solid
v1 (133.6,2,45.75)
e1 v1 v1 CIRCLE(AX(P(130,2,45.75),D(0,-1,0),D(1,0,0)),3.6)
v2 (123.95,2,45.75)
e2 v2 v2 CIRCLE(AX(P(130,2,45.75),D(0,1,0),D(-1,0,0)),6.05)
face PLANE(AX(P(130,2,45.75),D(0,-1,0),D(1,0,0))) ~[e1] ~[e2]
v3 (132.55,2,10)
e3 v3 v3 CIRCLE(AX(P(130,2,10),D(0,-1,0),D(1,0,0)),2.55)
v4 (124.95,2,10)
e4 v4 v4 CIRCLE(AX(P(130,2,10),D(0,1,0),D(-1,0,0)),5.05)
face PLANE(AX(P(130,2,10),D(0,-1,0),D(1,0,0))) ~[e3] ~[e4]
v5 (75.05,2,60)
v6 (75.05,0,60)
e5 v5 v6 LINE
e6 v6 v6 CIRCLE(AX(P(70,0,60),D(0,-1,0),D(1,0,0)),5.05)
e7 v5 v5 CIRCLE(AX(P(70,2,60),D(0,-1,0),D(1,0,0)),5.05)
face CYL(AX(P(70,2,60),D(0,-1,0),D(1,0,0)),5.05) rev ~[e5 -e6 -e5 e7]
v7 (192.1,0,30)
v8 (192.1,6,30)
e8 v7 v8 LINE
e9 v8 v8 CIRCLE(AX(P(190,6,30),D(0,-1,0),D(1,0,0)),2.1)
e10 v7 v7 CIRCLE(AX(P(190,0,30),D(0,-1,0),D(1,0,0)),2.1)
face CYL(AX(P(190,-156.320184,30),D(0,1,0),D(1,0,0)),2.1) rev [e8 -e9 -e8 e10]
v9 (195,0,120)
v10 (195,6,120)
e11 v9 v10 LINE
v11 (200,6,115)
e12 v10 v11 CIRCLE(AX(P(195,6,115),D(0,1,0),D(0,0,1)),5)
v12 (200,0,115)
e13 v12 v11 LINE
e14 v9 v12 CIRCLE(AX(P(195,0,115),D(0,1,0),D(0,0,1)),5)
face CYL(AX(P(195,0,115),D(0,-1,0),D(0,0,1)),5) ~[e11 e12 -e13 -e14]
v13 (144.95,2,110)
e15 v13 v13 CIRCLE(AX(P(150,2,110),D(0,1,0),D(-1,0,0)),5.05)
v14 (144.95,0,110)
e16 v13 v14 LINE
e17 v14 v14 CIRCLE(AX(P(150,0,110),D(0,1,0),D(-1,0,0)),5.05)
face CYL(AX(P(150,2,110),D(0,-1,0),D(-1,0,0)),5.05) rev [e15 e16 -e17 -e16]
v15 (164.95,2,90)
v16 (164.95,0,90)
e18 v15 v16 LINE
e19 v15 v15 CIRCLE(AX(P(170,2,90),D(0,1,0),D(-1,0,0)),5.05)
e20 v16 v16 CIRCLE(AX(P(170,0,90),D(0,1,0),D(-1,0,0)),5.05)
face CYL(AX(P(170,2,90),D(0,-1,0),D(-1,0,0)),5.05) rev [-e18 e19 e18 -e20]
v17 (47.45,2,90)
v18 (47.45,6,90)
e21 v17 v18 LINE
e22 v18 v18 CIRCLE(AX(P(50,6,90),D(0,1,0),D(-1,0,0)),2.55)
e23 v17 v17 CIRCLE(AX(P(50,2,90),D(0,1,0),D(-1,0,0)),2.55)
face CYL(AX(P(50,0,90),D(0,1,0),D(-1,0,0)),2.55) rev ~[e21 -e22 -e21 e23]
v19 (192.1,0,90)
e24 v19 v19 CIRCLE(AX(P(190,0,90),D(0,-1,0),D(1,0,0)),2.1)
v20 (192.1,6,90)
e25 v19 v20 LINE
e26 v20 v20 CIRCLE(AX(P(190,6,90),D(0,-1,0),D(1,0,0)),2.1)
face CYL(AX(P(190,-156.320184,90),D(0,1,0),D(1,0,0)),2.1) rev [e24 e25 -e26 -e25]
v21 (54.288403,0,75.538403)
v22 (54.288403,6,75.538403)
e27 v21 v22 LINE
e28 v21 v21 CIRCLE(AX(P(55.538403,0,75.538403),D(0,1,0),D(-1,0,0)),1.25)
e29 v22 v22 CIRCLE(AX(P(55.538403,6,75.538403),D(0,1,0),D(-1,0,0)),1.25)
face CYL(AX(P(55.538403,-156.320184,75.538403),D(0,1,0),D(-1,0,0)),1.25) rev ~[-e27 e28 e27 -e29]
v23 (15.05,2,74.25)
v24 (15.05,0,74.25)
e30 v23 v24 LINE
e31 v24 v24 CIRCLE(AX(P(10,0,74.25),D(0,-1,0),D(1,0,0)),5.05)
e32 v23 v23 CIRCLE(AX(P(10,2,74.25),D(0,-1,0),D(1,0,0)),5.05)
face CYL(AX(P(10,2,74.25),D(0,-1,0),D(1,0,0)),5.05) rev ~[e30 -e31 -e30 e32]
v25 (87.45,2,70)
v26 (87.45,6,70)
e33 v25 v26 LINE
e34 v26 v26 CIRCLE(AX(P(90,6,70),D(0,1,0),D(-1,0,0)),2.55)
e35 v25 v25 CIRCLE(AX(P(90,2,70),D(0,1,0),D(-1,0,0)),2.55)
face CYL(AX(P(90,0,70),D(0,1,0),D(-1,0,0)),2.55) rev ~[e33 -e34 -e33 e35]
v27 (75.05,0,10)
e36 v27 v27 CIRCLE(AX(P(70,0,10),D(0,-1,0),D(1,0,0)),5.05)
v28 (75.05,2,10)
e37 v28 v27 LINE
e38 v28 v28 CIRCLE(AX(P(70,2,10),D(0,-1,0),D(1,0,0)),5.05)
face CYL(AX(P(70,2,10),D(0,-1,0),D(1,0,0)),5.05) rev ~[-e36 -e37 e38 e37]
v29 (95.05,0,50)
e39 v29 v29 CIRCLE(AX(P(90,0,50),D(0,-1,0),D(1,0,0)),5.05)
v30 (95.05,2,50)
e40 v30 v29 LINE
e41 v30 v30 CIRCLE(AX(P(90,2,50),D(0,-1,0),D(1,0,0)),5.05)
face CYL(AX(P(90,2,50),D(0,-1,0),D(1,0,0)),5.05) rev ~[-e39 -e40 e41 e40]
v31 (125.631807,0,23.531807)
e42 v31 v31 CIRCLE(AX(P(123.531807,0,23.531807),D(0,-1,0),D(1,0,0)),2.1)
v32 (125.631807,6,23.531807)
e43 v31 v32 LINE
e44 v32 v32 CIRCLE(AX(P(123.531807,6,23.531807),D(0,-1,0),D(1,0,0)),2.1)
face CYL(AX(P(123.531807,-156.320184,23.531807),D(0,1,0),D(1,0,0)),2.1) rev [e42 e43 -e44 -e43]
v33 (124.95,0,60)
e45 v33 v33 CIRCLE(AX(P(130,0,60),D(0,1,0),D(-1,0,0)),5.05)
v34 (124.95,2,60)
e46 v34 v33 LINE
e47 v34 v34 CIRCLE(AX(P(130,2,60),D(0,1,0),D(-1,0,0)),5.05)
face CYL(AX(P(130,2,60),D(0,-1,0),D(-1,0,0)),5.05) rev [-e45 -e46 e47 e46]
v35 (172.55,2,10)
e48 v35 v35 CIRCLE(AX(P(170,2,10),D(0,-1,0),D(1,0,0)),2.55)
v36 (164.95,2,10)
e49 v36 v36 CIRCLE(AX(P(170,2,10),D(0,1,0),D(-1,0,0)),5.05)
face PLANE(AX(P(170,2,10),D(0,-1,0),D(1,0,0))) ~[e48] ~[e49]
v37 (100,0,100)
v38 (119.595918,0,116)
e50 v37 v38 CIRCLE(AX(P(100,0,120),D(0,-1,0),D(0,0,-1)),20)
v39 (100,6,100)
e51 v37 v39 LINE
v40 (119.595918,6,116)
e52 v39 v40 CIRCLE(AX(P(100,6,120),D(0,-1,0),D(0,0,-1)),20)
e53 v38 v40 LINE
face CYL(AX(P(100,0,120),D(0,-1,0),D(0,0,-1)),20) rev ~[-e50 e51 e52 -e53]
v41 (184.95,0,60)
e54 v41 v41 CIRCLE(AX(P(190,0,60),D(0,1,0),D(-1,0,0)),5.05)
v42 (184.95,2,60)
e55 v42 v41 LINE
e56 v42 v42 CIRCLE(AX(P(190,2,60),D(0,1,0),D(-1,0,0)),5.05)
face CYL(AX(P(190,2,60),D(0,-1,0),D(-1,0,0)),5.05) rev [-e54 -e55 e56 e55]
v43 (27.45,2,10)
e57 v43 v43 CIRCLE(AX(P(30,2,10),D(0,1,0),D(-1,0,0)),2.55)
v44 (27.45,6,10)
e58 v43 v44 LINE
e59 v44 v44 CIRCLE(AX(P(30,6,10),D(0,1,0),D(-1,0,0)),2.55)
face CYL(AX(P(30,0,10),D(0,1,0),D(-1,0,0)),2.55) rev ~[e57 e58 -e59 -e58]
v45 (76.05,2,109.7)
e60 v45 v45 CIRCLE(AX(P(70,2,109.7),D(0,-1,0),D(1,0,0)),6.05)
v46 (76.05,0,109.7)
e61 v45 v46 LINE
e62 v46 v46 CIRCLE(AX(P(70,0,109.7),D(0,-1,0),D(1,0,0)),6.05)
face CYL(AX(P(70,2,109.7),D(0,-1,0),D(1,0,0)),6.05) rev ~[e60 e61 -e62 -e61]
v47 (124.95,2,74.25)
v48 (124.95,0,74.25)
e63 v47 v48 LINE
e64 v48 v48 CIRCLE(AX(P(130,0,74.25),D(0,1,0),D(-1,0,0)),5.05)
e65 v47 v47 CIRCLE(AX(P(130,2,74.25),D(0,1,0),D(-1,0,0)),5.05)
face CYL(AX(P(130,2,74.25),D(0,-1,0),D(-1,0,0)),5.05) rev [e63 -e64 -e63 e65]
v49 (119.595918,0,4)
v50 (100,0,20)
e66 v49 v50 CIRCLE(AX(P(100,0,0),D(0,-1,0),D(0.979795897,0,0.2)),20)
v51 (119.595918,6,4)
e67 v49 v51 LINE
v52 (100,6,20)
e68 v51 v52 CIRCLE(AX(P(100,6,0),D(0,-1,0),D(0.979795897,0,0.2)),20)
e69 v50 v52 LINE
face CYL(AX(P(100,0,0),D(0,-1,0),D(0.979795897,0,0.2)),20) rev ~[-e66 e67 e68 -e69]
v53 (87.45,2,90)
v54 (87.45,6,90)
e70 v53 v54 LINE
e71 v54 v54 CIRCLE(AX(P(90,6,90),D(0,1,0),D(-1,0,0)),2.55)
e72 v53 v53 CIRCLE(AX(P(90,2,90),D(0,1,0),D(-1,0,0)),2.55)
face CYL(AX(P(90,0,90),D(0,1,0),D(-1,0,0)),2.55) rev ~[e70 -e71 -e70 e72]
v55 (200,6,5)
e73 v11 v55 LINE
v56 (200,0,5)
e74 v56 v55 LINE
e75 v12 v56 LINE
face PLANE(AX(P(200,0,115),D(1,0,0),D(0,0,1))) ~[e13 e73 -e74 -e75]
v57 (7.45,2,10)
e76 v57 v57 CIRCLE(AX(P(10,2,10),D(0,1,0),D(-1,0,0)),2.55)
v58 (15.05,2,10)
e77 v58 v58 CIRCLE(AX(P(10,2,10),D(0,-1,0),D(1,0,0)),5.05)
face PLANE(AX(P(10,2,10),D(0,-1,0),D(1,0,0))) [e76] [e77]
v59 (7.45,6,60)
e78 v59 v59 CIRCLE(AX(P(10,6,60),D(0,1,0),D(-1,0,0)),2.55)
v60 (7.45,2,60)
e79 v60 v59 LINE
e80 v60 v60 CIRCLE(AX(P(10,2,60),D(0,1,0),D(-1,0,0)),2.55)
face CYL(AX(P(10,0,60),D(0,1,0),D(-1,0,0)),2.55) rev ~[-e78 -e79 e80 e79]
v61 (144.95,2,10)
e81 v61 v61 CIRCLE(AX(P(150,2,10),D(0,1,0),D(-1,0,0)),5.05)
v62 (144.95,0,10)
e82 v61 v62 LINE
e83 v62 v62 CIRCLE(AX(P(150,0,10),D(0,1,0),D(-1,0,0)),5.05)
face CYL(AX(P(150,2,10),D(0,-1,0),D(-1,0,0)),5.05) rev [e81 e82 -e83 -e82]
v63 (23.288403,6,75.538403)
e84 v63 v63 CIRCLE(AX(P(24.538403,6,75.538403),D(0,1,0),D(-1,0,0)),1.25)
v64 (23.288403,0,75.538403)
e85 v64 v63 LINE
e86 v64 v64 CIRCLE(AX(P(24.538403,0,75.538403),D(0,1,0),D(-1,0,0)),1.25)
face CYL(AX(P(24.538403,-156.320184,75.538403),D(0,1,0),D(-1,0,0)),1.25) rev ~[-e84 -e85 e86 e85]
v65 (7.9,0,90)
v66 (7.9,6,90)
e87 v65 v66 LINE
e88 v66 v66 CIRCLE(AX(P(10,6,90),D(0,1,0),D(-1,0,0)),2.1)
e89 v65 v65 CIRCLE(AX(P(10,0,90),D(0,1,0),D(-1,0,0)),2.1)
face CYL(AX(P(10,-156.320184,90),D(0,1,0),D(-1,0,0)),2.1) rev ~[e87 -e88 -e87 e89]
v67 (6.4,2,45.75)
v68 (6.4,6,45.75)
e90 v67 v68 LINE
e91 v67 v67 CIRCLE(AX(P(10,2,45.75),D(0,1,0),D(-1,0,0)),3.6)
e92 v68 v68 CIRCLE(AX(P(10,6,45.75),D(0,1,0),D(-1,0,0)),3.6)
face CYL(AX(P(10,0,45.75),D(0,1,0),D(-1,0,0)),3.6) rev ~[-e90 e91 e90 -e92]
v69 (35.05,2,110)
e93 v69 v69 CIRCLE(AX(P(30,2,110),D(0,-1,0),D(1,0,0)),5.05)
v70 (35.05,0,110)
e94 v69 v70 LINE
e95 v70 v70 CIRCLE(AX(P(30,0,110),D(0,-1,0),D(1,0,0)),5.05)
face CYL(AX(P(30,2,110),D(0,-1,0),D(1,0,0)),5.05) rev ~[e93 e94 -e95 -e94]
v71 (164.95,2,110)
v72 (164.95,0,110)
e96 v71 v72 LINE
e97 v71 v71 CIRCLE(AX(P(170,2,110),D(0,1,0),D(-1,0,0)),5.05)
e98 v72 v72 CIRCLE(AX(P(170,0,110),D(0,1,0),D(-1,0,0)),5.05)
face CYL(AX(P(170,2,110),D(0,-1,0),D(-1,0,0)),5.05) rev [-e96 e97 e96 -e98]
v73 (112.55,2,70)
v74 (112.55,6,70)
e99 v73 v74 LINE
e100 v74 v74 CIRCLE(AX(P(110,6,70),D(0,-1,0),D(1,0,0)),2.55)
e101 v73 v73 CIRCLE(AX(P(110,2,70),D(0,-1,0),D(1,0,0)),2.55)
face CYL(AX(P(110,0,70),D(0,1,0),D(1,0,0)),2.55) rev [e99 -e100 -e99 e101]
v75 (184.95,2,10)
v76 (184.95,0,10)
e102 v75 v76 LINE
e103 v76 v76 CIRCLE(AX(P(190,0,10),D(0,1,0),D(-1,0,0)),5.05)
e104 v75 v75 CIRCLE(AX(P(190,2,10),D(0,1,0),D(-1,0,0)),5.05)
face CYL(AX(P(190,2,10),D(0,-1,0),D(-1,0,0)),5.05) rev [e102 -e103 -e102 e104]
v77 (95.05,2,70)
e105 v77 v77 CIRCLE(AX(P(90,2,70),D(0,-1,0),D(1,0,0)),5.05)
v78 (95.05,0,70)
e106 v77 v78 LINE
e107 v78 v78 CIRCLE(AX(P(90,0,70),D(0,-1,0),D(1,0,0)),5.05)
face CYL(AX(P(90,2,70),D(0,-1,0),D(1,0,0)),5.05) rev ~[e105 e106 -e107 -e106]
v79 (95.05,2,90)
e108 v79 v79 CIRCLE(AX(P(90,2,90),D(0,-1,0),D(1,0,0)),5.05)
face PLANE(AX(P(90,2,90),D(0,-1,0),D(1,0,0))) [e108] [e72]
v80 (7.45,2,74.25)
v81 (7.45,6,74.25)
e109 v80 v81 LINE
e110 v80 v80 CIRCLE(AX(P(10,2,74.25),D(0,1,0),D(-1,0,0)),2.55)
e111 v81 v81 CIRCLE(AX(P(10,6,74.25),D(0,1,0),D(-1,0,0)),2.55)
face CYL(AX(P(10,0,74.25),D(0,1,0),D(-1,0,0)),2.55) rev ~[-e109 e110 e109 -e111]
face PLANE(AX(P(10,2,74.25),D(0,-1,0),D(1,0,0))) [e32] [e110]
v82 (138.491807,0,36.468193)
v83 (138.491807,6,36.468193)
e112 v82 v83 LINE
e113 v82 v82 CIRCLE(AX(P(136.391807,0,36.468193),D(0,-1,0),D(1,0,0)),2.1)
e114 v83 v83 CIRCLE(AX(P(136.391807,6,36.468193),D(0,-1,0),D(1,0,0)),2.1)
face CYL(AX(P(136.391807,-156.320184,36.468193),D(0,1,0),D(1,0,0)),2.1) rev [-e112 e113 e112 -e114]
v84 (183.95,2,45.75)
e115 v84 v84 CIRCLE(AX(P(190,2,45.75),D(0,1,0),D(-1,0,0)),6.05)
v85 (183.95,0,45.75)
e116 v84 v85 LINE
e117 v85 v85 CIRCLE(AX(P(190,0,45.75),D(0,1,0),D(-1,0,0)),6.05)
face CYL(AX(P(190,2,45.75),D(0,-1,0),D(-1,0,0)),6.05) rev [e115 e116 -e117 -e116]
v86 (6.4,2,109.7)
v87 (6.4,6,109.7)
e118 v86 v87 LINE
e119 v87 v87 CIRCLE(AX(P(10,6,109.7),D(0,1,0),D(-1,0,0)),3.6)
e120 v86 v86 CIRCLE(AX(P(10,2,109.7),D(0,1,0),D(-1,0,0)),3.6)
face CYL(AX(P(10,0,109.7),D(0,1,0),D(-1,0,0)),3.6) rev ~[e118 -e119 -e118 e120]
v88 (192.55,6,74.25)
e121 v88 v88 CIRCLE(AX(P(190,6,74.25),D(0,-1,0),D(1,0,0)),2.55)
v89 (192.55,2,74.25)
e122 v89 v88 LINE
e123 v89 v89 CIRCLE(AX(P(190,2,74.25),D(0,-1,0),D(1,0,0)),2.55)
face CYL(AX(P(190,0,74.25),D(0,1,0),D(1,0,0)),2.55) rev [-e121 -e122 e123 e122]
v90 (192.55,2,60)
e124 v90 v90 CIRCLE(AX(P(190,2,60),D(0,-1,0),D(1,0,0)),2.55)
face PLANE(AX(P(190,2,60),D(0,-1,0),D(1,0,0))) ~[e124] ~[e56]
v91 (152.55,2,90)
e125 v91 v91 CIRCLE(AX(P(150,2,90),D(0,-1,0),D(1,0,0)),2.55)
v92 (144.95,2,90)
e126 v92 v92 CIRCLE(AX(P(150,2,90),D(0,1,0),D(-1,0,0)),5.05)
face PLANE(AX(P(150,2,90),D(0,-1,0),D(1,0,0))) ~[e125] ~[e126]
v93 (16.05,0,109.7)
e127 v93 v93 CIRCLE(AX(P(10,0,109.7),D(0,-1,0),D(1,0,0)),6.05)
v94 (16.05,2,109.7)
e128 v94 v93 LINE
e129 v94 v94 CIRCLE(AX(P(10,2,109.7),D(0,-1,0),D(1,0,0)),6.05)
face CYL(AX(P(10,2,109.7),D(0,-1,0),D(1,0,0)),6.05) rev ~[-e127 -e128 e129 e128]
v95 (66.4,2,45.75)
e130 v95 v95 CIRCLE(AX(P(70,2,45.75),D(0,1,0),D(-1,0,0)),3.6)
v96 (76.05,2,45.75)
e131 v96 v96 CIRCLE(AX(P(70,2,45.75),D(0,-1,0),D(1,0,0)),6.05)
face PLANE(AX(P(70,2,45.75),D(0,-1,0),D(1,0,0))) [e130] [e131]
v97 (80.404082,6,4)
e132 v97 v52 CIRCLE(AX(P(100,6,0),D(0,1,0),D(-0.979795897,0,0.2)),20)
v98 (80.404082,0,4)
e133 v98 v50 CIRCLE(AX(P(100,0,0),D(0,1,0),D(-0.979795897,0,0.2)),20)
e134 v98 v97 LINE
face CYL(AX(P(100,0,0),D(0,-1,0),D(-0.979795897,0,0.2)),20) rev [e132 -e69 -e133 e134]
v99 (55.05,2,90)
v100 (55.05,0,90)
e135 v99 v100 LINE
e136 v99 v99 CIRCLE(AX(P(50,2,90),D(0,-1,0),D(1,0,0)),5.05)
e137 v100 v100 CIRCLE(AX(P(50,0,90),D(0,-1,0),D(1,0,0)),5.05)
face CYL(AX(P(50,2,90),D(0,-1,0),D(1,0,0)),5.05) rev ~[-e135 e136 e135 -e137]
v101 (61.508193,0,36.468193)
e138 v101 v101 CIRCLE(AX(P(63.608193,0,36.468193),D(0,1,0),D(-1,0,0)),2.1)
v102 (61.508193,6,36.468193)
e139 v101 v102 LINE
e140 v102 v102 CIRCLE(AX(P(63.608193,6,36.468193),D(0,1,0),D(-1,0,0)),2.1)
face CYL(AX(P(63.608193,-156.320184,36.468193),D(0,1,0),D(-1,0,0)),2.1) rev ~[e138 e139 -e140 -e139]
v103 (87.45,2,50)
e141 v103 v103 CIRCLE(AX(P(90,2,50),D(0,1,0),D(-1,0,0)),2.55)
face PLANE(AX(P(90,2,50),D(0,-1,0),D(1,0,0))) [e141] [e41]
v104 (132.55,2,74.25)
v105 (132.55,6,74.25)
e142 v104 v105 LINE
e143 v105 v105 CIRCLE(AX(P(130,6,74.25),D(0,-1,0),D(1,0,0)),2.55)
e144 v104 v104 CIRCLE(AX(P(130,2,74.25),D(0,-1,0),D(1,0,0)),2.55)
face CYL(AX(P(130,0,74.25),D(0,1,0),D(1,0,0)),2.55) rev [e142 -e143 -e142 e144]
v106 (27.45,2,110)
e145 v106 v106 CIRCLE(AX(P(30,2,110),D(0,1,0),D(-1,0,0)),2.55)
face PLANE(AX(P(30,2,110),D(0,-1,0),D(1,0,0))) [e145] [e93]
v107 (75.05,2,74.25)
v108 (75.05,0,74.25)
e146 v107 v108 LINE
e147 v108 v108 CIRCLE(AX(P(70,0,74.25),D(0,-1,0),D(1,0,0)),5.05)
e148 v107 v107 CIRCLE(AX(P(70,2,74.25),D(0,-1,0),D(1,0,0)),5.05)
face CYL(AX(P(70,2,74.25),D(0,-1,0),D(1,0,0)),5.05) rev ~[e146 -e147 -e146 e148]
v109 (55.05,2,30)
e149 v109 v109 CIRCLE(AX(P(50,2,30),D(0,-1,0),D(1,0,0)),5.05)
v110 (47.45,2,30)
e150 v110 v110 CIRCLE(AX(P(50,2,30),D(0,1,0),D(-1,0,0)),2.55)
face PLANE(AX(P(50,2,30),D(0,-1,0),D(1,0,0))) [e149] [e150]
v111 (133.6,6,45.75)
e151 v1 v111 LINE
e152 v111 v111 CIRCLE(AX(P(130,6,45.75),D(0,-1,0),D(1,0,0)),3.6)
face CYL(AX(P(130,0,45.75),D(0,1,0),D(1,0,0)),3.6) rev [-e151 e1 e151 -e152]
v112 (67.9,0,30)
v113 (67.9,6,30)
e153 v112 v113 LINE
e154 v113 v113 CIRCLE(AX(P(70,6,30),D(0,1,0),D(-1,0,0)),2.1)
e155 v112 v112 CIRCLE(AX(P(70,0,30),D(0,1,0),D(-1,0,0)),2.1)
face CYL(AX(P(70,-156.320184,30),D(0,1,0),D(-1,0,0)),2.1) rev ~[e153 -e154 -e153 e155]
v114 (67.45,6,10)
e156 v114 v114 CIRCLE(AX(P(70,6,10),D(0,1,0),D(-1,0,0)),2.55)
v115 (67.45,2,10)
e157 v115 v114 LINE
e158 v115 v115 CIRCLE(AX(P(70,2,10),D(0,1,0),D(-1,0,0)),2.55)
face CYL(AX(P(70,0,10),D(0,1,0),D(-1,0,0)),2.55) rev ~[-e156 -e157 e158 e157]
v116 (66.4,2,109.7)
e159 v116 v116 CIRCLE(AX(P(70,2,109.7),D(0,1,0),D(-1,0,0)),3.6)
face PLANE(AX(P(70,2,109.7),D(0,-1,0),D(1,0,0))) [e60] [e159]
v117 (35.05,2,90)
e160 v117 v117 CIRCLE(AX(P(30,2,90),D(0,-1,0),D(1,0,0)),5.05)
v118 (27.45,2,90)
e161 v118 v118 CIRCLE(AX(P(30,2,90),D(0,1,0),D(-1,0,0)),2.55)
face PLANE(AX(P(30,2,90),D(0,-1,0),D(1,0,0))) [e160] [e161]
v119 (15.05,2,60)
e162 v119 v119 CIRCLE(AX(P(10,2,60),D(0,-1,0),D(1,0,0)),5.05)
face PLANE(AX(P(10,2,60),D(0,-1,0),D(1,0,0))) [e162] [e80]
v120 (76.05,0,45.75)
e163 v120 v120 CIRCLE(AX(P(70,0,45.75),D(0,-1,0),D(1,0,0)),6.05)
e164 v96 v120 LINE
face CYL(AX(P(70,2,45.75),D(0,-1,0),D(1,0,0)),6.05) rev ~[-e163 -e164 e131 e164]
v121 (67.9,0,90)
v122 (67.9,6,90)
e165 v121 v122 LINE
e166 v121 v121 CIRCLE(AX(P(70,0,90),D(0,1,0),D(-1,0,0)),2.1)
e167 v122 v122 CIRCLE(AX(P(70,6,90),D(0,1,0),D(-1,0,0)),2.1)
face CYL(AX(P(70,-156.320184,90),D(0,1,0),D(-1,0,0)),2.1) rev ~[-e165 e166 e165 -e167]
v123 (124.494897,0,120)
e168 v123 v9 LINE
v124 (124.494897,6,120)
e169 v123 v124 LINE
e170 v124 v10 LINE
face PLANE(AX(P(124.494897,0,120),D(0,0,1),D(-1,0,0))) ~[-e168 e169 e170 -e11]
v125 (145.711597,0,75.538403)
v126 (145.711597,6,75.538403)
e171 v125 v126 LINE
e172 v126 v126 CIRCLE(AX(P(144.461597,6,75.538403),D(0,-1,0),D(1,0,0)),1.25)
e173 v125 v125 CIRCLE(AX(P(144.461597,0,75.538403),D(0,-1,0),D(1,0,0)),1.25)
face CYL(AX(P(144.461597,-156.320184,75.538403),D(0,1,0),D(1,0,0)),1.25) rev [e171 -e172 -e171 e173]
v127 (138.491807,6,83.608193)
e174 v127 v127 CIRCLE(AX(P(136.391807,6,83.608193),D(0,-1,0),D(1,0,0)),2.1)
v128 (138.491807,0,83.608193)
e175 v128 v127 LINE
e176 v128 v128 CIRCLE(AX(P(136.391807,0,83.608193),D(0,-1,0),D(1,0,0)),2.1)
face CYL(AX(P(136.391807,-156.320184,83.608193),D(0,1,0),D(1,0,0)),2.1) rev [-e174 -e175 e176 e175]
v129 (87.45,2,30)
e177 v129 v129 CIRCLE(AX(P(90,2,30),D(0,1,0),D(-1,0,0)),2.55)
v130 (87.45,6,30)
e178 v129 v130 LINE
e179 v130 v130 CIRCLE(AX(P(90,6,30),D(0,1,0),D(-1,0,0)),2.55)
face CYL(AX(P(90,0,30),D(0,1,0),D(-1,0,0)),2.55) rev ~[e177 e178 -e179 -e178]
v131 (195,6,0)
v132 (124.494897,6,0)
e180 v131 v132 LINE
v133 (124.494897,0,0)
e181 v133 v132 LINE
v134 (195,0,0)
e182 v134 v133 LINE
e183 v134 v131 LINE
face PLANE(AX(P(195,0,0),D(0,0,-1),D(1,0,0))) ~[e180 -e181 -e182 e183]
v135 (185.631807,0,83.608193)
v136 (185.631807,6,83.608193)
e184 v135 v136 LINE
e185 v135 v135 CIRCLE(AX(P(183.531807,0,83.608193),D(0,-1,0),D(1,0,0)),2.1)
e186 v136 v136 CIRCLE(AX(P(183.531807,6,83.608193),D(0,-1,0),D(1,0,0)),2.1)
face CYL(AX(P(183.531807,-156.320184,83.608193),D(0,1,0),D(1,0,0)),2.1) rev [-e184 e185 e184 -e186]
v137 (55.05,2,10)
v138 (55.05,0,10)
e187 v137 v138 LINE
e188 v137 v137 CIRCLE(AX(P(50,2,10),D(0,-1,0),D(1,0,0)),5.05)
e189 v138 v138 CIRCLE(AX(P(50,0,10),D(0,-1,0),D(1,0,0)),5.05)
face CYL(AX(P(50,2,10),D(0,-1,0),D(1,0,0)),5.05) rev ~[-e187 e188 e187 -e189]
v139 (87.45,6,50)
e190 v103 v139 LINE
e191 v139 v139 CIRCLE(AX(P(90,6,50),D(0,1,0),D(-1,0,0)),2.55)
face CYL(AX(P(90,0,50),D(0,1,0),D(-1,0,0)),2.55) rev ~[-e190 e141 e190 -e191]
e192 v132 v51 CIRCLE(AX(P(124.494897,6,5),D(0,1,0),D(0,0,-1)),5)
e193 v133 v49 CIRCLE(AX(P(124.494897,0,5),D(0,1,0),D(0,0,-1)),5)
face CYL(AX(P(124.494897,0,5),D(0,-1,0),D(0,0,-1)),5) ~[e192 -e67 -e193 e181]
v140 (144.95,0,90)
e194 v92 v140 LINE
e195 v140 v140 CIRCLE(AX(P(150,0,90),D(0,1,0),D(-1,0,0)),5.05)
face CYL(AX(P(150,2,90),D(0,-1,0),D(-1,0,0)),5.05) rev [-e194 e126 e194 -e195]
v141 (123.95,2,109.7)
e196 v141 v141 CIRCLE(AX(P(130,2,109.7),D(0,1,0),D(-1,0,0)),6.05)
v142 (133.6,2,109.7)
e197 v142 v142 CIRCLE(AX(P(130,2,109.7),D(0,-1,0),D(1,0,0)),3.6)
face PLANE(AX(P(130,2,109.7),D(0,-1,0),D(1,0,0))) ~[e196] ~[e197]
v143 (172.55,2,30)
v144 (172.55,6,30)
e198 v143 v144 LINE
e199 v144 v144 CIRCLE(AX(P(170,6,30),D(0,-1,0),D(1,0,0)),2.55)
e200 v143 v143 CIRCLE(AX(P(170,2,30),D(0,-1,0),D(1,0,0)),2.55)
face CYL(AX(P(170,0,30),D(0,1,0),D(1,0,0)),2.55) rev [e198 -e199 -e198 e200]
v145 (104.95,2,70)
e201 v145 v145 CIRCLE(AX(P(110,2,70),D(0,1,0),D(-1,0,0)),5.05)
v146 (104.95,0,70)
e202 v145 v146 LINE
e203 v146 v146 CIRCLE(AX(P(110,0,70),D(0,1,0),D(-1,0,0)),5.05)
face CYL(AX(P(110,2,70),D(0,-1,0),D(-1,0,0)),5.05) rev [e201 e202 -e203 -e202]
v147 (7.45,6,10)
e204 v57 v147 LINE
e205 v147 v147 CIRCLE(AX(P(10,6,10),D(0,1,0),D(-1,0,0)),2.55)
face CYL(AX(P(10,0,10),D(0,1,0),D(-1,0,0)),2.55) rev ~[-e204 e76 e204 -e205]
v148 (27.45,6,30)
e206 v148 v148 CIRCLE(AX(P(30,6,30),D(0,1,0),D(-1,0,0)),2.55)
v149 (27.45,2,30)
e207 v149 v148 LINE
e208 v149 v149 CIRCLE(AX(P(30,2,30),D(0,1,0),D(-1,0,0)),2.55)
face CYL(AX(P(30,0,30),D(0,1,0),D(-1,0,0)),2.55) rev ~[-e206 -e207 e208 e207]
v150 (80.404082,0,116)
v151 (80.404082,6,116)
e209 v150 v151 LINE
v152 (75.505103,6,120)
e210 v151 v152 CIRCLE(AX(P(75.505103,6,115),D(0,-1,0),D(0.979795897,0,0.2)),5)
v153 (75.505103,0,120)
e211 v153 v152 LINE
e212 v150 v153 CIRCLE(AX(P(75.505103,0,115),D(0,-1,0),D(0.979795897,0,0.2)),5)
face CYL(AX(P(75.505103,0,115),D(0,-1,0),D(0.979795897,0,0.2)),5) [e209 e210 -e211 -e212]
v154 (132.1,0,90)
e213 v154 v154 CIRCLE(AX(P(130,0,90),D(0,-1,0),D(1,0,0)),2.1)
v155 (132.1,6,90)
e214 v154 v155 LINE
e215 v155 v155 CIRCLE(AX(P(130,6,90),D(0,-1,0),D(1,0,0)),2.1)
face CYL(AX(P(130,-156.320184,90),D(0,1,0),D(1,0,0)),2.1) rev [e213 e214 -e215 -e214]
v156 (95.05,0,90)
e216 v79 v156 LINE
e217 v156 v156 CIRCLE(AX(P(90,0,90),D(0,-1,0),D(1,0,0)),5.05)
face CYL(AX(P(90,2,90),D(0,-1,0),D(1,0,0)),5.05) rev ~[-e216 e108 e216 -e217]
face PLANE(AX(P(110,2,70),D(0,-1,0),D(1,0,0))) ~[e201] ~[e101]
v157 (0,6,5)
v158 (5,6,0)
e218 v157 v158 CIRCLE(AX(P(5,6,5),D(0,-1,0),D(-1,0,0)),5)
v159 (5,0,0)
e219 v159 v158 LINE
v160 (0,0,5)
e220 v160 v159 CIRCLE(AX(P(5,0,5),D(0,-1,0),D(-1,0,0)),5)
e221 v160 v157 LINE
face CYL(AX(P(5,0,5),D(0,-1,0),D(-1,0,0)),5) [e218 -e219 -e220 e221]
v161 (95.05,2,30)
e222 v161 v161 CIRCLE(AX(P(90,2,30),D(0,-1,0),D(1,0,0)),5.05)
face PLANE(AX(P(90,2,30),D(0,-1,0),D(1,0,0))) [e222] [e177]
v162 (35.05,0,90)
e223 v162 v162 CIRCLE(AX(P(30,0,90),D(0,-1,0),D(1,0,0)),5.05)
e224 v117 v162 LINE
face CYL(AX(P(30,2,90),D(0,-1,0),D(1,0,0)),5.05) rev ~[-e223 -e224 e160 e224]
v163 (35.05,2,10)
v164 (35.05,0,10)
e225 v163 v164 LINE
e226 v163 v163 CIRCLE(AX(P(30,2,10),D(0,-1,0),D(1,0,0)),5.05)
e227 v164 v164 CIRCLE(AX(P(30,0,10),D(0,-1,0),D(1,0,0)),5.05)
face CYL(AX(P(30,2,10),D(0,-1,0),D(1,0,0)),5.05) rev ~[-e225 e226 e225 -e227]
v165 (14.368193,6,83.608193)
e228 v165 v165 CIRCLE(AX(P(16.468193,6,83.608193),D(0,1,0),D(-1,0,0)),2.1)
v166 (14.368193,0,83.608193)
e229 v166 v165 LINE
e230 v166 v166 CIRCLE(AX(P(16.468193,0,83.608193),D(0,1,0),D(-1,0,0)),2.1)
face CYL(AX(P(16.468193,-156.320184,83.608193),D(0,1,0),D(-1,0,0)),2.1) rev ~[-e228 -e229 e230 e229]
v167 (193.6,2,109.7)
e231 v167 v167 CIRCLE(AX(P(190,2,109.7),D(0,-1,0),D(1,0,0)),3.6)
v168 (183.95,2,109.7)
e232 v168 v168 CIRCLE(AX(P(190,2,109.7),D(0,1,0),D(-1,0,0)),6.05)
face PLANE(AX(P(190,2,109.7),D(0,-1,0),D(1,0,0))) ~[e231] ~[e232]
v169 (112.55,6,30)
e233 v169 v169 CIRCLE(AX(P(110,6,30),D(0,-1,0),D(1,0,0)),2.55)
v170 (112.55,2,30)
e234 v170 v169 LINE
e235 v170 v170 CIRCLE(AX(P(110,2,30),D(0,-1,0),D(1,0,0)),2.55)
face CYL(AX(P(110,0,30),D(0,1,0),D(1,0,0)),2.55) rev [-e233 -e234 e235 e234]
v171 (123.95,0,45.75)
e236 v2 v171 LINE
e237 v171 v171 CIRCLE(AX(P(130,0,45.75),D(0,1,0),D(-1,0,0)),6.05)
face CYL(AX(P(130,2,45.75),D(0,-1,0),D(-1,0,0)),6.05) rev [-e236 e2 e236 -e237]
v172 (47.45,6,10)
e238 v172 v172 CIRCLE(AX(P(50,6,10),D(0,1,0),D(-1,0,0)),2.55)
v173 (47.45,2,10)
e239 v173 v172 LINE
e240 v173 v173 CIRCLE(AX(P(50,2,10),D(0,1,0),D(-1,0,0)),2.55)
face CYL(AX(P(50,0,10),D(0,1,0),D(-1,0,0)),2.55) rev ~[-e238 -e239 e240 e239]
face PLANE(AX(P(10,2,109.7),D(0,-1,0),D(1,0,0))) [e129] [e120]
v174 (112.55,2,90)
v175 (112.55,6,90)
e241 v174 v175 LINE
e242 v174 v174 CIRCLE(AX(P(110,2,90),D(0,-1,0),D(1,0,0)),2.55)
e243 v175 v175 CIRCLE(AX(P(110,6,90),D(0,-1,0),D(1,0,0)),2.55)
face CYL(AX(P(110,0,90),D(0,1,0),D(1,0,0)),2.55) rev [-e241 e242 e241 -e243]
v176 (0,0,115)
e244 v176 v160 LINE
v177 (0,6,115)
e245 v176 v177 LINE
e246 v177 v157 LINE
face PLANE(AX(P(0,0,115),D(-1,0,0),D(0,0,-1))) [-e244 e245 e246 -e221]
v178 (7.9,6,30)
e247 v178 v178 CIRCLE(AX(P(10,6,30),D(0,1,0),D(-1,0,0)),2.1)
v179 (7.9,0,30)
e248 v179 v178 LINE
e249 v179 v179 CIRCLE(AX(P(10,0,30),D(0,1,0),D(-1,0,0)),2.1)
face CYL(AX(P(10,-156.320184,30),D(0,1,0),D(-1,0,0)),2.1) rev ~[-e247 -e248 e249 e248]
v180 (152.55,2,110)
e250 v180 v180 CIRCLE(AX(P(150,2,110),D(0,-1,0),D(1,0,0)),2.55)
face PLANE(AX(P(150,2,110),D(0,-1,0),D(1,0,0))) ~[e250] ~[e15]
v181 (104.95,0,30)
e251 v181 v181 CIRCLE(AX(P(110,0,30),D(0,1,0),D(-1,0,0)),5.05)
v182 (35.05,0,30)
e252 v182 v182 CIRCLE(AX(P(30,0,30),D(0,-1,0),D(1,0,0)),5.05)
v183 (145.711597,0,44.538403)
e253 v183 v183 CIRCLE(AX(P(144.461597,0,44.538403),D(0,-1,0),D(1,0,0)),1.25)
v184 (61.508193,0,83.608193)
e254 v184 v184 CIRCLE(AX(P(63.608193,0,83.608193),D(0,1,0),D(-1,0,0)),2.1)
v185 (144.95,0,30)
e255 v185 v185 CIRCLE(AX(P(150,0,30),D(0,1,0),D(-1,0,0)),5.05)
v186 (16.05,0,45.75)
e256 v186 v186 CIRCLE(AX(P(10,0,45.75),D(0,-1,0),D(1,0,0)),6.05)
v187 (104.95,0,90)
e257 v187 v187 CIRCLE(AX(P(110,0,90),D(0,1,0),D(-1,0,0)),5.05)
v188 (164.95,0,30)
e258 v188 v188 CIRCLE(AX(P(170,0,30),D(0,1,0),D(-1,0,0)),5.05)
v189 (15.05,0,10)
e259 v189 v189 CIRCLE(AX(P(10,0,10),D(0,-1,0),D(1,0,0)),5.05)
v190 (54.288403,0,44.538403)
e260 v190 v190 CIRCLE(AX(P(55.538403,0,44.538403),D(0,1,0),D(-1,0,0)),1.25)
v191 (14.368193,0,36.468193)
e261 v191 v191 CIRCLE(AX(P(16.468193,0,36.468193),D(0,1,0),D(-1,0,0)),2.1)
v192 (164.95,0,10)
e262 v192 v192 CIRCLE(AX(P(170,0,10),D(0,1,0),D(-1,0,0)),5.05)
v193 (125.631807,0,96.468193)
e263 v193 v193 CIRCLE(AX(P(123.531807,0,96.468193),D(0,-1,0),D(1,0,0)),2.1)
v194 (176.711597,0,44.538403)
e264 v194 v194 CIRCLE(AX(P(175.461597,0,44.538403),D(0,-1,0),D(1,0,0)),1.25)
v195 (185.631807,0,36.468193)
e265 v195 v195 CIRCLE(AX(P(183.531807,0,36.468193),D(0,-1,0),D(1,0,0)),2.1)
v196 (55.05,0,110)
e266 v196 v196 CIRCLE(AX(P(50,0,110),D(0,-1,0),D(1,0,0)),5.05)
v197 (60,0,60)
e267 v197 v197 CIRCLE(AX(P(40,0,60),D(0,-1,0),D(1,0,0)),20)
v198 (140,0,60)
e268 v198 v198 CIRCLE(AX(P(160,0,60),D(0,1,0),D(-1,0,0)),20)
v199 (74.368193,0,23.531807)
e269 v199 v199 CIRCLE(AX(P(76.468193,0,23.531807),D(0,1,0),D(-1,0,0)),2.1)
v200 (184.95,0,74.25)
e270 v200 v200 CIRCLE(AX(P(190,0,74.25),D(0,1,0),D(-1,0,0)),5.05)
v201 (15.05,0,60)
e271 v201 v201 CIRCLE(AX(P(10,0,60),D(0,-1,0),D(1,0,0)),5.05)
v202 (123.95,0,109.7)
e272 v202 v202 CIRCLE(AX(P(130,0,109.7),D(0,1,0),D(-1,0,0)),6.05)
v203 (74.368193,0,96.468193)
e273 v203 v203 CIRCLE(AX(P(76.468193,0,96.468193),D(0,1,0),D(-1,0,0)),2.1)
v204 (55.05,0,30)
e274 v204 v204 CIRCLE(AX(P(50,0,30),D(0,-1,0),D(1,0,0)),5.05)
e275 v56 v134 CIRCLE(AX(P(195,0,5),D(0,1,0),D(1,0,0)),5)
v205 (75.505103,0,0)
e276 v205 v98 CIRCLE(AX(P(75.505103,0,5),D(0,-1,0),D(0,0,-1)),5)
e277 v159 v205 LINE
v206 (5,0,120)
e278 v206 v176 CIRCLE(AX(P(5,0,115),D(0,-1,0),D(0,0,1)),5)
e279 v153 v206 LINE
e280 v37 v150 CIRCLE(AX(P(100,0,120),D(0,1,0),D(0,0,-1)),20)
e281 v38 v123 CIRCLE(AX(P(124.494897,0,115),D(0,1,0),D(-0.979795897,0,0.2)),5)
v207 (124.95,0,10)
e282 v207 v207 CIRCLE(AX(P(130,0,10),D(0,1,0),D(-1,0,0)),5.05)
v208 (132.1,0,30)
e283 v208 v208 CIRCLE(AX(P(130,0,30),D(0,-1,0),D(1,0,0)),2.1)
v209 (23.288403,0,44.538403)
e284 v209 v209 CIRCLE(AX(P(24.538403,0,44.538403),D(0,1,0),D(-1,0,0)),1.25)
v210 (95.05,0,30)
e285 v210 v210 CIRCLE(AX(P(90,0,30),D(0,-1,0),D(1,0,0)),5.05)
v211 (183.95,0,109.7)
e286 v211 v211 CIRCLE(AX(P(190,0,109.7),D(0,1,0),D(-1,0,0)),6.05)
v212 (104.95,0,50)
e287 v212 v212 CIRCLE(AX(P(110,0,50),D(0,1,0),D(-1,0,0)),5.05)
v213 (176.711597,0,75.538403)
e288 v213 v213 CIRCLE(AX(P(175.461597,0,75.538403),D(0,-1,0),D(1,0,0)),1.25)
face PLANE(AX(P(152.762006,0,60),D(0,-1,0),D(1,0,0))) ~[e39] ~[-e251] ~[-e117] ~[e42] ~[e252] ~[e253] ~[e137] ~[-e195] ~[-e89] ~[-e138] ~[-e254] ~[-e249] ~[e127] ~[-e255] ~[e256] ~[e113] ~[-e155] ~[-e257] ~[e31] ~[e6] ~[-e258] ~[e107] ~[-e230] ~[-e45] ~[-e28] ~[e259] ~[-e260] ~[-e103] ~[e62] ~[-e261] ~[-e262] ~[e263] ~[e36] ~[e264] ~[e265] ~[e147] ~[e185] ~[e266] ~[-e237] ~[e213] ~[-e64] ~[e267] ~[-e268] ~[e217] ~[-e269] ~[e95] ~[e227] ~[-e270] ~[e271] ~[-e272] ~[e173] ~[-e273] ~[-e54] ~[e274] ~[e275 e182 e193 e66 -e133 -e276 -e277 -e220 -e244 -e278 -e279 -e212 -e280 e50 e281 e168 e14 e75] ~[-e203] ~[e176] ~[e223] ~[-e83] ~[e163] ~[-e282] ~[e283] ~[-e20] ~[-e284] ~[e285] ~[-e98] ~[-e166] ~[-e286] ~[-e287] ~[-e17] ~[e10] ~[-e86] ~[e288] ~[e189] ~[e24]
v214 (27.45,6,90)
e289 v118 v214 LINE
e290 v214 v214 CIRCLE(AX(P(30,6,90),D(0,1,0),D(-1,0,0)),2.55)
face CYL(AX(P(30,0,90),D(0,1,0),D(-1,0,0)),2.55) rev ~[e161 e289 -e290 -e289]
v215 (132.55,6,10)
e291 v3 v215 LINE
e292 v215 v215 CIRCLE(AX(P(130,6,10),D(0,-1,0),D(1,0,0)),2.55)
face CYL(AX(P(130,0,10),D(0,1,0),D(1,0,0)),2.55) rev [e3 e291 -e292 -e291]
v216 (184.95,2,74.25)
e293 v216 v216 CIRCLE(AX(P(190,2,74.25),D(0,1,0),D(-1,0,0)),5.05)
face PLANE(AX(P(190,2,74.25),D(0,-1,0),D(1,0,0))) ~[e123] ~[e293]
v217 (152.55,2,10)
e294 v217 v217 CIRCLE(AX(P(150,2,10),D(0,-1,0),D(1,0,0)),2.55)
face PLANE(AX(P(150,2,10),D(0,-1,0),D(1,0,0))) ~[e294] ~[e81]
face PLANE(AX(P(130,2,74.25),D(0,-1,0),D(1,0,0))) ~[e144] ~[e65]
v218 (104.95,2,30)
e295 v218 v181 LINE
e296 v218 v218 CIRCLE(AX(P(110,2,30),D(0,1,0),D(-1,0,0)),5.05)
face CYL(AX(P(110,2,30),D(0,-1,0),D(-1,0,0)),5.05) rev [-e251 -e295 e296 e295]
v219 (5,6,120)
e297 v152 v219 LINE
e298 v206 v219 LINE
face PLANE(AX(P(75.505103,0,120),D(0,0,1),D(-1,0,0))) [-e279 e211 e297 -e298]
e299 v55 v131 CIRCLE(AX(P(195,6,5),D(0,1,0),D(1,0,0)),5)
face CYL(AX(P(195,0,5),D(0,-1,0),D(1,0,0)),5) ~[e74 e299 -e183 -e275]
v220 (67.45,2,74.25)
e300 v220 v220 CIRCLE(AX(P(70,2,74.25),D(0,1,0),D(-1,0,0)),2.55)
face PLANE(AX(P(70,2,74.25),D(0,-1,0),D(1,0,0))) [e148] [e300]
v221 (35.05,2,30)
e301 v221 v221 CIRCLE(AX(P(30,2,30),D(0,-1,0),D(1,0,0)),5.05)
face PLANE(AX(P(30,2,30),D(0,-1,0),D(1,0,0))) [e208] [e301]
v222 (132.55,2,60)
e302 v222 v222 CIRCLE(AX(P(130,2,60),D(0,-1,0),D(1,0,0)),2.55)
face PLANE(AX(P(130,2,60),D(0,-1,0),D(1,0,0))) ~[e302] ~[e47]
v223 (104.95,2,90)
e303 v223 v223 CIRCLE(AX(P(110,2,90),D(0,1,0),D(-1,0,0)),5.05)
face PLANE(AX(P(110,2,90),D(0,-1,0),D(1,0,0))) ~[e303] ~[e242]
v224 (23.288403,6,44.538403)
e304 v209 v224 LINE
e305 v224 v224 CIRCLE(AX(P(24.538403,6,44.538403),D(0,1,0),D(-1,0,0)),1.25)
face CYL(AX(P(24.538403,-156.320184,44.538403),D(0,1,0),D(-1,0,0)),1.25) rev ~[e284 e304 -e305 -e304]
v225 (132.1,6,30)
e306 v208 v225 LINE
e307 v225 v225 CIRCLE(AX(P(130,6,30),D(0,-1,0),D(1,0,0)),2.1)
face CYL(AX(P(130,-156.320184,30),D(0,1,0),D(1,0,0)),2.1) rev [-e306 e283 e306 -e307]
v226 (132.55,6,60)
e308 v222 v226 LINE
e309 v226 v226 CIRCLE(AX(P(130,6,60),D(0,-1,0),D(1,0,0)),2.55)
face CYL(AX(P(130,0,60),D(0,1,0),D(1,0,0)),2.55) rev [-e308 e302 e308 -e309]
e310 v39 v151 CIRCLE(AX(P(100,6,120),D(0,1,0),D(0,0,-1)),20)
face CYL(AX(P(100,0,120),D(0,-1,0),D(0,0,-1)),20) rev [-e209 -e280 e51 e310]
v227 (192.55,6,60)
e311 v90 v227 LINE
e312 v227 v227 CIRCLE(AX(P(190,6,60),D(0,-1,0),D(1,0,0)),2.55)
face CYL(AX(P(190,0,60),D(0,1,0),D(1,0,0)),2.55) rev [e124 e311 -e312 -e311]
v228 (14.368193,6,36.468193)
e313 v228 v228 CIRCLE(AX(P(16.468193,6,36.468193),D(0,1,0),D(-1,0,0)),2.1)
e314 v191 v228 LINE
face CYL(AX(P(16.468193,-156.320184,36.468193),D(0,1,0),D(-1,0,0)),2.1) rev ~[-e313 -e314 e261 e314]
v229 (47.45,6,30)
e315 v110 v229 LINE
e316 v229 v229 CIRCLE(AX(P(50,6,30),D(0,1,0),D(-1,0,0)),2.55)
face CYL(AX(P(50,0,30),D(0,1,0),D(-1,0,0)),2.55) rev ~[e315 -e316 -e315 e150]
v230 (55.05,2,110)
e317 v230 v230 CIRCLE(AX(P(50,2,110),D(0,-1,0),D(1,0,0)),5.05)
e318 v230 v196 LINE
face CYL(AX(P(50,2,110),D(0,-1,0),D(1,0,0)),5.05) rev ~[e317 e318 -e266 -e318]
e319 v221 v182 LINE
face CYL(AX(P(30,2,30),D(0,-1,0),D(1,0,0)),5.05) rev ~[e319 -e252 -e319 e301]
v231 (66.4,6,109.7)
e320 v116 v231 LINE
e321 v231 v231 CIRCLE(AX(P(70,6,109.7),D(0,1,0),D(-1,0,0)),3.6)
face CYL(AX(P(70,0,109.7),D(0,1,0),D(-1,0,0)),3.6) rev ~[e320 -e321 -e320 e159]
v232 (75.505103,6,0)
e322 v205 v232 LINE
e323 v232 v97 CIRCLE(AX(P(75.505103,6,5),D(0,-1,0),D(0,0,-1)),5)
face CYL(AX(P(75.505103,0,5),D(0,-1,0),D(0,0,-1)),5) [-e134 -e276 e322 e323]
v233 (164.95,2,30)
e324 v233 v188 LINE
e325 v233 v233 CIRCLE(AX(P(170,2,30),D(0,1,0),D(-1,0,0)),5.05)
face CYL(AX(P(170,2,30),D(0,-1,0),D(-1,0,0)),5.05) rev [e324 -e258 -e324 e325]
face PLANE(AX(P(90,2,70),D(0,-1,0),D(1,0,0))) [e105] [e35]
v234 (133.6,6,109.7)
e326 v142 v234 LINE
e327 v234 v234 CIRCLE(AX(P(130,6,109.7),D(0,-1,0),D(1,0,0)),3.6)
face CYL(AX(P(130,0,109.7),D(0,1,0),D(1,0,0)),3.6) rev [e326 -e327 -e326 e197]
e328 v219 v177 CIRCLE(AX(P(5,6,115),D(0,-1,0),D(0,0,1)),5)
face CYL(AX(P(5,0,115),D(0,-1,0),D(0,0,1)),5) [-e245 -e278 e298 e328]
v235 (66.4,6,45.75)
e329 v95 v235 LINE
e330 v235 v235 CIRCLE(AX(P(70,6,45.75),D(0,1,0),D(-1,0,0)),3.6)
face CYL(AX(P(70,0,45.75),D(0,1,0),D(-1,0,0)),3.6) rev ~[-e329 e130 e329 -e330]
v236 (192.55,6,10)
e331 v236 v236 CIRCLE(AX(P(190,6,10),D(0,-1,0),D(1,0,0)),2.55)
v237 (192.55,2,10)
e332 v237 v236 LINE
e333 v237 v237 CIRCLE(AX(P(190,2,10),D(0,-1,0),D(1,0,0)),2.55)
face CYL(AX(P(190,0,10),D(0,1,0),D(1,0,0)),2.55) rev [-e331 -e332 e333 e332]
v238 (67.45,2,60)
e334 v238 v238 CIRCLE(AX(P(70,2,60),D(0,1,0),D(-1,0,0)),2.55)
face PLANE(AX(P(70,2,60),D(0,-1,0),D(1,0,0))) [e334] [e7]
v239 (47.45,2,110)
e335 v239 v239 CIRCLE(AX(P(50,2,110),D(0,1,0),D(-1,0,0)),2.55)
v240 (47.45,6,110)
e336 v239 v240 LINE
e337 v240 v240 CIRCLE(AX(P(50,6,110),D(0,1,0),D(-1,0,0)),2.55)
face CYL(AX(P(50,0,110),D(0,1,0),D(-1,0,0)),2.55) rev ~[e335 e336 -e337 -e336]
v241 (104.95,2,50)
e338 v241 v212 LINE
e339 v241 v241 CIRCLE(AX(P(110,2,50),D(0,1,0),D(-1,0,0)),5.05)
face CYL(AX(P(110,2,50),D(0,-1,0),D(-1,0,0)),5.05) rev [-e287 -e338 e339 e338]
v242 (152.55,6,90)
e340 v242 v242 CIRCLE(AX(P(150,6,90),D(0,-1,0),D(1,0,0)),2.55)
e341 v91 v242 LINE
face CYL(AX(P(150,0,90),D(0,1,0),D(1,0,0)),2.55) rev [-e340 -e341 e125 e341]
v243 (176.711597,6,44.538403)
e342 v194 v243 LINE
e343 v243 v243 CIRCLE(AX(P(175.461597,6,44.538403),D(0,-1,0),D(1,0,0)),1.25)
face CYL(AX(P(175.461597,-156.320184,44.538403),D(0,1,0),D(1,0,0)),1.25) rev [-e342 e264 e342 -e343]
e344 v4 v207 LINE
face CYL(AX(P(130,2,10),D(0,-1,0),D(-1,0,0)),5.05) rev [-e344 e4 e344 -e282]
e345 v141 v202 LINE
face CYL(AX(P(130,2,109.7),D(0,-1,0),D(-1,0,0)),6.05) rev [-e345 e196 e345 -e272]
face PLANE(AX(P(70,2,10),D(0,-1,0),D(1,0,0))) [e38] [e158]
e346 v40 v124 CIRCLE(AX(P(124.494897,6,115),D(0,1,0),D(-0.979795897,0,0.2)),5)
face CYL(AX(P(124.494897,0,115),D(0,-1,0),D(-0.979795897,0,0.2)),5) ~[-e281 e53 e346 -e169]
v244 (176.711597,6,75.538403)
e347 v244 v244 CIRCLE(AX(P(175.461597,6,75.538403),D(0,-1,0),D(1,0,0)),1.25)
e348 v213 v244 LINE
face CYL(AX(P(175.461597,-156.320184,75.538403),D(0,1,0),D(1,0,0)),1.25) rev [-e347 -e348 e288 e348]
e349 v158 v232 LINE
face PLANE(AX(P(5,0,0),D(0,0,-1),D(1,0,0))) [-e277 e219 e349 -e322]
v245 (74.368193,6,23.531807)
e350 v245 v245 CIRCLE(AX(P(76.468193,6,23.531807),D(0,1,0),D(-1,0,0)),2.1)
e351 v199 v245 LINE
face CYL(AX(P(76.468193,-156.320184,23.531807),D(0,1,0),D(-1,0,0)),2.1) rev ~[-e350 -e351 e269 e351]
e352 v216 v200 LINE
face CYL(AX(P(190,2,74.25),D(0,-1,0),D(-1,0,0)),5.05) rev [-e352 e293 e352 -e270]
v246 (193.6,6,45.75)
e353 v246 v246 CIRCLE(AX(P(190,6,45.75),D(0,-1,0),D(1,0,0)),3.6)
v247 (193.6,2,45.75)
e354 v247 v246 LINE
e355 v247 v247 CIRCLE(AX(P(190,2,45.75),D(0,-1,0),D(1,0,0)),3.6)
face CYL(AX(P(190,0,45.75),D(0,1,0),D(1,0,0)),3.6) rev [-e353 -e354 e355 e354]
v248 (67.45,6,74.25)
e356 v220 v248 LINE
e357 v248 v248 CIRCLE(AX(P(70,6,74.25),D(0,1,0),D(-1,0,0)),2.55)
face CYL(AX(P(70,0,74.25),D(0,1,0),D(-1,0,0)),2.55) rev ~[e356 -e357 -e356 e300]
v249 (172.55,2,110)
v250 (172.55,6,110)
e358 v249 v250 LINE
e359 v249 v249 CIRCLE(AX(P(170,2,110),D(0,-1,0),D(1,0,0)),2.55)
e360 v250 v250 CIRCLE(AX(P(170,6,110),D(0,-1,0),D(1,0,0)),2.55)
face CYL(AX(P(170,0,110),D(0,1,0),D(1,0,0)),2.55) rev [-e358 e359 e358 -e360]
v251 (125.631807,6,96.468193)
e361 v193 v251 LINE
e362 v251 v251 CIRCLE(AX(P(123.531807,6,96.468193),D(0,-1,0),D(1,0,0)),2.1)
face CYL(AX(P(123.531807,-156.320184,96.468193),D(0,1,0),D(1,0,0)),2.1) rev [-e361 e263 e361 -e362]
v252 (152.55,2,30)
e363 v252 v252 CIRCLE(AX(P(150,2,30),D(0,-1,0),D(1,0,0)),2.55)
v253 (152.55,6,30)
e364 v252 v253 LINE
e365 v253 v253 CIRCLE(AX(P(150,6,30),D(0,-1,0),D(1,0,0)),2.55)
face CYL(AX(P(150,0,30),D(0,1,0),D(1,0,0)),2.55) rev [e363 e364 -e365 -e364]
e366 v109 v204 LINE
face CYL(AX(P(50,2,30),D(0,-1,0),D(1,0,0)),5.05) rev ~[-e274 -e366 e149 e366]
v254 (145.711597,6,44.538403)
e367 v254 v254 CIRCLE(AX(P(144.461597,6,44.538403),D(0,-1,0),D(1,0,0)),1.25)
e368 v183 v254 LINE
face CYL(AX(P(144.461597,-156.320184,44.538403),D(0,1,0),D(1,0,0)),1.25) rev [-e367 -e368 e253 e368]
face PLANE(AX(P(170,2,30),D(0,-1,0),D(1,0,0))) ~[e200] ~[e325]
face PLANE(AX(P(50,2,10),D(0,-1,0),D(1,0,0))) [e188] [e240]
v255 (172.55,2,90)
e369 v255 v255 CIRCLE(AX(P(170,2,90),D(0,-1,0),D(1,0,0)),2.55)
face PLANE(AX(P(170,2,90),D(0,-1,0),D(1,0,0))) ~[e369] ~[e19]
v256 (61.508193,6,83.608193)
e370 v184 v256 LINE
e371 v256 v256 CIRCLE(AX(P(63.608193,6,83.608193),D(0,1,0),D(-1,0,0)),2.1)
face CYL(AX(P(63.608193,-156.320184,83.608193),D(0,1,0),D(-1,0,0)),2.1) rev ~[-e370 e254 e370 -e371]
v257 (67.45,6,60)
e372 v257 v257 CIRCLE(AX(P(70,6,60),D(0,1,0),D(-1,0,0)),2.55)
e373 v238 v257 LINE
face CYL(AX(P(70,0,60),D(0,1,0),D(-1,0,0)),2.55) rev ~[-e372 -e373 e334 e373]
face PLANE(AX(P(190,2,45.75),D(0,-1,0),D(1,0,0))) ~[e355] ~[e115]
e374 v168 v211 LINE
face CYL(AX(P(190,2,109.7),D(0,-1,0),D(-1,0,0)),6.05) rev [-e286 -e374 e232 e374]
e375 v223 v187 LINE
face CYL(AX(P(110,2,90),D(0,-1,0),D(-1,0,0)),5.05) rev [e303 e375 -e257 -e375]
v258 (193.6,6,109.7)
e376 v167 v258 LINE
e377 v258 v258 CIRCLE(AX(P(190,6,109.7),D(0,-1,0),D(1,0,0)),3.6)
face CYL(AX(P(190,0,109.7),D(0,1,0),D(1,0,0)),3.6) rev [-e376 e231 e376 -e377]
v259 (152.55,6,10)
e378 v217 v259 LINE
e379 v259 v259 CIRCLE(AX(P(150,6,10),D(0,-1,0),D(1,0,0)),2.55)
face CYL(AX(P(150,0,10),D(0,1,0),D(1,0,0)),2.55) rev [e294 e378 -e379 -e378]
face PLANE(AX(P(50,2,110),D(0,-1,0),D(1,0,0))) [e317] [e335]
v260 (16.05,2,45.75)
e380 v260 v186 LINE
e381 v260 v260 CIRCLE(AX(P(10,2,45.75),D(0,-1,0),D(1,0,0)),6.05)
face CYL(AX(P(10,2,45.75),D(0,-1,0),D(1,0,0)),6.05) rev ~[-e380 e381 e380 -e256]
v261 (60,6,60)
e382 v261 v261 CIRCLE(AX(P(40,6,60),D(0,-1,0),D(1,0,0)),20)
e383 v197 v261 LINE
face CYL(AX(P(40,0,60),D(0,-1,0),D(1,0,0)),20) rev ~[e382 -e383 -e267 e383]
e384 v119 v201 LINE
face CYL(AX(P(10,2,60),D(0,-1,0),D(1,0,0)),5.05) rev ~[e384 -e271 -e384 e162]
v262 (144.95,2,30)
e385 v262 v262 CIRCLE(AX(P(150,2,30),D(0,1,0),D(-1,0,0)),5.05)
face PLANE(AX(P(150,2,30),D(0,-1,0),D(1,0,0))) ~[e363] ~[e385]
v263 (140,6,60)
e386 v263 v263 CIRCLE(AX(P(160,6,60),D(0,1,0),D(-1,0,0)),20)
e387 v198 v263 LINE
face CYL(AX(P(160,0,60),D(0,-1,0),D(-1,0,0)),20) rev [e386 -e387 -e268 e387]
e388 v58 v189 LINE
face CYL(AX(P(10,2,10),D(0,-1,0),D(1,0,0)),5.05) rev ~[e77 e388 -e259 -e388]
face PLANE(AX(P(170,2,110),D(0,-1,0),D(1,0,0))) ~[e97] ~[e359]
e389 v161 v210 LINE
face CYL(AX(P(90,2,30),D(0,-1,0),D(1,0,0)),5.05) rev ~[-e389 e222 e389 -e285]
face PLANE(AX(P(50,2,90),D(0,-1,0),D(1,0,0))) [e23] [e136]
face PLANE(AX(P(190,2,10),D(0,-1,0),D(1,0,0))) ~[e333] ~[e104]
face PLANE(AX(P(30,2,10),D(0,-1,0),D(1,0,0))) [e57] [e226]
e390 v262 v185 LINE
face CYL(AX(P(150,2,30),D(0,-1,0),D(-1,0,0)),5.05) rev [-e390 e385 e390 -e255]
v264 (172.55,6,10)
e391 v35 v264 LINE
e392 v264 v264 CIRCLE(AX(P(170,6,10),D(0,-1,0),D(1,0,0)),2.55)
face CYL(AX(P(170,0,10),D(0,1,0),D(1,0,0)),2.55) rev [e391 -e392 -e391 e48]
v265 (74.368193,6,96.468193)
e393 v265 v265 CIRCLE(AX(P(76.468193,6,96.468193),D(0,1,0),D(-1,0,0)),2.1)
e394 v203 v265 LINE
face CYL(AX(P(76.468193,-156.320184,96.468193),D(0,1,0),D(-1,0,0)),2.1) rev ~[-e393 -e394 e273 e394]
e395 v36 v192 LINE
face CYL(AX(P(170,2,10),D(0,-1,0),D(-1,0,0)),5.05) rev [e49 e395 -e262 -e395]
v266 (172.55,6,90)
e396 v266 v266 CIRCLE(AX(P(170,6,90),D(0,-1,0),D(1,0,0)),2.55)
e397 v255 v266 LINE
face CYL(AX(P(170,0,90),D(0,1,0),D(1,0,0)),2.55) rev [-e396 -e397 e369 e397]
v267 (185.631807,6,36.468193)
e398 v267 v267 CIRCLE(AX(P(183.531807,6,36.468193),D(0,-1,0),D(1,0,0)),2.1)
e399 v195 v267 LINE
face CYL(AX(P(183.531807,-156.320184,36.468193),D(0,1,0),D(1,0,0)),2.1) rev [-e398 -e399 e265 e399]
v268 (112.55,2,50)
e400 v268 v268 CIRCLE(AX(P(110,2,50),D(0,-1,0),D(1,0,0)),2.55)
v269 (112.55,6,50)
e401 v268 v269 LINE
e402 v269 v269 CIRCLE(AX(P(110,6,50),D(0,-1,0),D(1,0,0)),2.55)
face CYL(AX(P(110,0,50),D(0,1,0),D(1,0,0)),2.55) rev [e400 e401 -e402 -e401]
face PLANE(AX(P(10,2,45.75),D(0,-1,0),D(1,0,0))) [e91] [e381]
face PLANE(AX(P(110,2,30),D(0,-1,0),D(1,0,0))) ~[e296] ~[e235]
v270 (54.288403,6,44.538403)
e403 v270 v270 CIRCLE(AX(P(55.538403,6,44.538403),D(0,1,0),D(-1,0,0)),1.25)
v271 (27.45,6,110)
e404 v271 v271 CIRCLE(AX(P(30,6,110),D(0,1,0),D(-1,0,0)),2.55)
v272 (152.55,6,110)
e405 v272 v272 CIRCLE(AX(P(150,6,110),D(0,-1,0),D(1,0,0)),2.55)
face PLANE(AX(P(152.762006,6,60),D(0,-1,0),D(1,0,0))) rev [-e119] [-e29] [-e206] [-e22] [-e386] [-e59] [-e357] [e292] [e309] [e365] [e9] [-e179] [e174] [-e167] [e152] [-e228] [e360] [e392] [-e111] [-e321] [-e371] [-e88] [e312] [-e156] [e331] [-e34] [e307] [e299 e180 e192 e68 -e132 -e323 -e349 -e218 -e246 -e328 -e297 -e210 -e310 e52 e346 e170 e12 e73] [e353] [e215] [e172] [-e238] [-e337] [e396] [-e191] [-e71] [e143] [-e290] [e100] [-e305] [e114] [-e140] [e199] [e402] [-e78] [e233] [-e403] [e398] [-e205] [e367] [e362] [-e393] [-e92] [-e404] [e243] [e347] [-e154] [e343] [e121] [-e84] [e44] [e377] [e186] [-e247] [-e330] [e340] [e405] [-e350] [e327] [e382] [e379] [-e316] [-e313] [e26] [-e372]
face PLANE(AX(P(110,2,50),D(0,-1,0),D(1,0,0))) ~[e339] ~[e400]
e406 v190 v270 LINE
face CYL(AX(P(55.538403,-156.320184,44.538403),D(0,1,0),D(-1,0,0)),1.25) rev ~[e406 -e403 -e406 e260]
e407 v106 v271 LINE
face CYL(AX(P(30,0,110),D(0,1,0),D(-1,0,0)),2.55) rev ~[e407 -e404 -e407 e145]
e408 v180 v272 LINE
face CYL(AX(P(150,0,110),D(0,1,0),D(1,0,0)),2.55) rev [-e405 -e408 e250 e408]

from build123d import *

# Parameters (mm, degrees)
F0_R           = 20
F1_DEPTH       = 6
F2_D           = 5.1
F2_CBORE_D     = 10.1
F2_CBORE_DEPTH = 2
F3_D           = 7.2
F3_CBORE_D     = 12.1
F3_CBORE_DEPTH = 2
F4_D           = 4.2
F5_D           = 2.5


with BuildPart() as f1:
    # F0 (on Front) → F1 (new body)
    with BuildSketch(Plane.XZ):
        with BuildLine():
            ThreePointArc((0, 5), (1.4644660941, 1.4644660941), (5, 0))
            Line((5, 0), (75.5051025722, 0))
            ThreePointArc((75.5051025722, 0), (78.6673802323, 1.1270166538), (80.4040820577, 4))
            ThreePointArc((80.4040820577, 4), (87.3508893593, 15.4919333848), (100, 20))
            Line((100, 20), (100, 100))
            ThreePointArc((100, 100), (87.3508893593, 104.5080666152), (80.4040820577, 116))
            ThreePointArc((80.4040820577, 116), (78.6673802323, 118.8729833462), (75.5051025722, 120))
            Line((75.5051025722, 120), (5, 120))
            ThreePointArc((5, 120), (1.4644660941, 118.5355339059), (0, 115))
            Line((0, 115), (0, 5))
        make_face()
        with Locations((40, 60)):
            Circle(F0_R, mode=Mode.SUBTRACT)
    extrude(amount=-F1_DEPTH)

    # F2 (through all)
    with Locations(Plane.XZ):
        with Locations((10, 10), (30, 10), (50, 10), (70, 10), (50, 30), (30, 30), (90, 30), (90, 50), (90, 70), (90, 90), (50, 90), (50, 110), (30, 110), (30, 90), (70, 60), (10, 60), (70, 74.25), (10, 74.25)):
            CounterBoreHole(F2_D / 2, F2_CBORE_D / 2, F2_CBORE_DEPTH)

    # F3 (through all)
    with Locations(Plane.XZ):
        with Locations((10, 109.7), (70, 109.7), (10, 45.75), (70, 45.75)):
            CounterBoreHole(F3_D / 2, F3_CBORE_D / 2, F3_CBORE_DEPTH)

    # F4 (through all)
    with Locations(Plane.XZ):
        with Locations((16.4681934289, 36.4681934289), (10, 30), (16.4681934289, 83.6081934289), (10, 90), (63.6081934289, 83.6081934289), (70, 90), (76.4681934289, 96.4681934289), (76.4681934289, 23.5318065711), (70, 30), (63.6081934289, 36.4681934289)):
            Hole(F4_D / 2)

    # F5 (through all)
    with Locations(Plane.XZ):
        with Locations((55.5384031226, 44.5384031226), (55.5384031226, 75.5384031226), (24.5384031226, 75.5384031226), (24.5384031226, 44.5384031226)):
            Hole(F5_D / 2)

    # F6: F1 across face


with BuildPart() as f1_1:
    add(f1.part)
    add(f1.part.mirror(Plane(origin=(100, 3, 60), x_dir=(0, 1, 0), z_dir=(1, 0, 0))))


solid = f1_1.part
